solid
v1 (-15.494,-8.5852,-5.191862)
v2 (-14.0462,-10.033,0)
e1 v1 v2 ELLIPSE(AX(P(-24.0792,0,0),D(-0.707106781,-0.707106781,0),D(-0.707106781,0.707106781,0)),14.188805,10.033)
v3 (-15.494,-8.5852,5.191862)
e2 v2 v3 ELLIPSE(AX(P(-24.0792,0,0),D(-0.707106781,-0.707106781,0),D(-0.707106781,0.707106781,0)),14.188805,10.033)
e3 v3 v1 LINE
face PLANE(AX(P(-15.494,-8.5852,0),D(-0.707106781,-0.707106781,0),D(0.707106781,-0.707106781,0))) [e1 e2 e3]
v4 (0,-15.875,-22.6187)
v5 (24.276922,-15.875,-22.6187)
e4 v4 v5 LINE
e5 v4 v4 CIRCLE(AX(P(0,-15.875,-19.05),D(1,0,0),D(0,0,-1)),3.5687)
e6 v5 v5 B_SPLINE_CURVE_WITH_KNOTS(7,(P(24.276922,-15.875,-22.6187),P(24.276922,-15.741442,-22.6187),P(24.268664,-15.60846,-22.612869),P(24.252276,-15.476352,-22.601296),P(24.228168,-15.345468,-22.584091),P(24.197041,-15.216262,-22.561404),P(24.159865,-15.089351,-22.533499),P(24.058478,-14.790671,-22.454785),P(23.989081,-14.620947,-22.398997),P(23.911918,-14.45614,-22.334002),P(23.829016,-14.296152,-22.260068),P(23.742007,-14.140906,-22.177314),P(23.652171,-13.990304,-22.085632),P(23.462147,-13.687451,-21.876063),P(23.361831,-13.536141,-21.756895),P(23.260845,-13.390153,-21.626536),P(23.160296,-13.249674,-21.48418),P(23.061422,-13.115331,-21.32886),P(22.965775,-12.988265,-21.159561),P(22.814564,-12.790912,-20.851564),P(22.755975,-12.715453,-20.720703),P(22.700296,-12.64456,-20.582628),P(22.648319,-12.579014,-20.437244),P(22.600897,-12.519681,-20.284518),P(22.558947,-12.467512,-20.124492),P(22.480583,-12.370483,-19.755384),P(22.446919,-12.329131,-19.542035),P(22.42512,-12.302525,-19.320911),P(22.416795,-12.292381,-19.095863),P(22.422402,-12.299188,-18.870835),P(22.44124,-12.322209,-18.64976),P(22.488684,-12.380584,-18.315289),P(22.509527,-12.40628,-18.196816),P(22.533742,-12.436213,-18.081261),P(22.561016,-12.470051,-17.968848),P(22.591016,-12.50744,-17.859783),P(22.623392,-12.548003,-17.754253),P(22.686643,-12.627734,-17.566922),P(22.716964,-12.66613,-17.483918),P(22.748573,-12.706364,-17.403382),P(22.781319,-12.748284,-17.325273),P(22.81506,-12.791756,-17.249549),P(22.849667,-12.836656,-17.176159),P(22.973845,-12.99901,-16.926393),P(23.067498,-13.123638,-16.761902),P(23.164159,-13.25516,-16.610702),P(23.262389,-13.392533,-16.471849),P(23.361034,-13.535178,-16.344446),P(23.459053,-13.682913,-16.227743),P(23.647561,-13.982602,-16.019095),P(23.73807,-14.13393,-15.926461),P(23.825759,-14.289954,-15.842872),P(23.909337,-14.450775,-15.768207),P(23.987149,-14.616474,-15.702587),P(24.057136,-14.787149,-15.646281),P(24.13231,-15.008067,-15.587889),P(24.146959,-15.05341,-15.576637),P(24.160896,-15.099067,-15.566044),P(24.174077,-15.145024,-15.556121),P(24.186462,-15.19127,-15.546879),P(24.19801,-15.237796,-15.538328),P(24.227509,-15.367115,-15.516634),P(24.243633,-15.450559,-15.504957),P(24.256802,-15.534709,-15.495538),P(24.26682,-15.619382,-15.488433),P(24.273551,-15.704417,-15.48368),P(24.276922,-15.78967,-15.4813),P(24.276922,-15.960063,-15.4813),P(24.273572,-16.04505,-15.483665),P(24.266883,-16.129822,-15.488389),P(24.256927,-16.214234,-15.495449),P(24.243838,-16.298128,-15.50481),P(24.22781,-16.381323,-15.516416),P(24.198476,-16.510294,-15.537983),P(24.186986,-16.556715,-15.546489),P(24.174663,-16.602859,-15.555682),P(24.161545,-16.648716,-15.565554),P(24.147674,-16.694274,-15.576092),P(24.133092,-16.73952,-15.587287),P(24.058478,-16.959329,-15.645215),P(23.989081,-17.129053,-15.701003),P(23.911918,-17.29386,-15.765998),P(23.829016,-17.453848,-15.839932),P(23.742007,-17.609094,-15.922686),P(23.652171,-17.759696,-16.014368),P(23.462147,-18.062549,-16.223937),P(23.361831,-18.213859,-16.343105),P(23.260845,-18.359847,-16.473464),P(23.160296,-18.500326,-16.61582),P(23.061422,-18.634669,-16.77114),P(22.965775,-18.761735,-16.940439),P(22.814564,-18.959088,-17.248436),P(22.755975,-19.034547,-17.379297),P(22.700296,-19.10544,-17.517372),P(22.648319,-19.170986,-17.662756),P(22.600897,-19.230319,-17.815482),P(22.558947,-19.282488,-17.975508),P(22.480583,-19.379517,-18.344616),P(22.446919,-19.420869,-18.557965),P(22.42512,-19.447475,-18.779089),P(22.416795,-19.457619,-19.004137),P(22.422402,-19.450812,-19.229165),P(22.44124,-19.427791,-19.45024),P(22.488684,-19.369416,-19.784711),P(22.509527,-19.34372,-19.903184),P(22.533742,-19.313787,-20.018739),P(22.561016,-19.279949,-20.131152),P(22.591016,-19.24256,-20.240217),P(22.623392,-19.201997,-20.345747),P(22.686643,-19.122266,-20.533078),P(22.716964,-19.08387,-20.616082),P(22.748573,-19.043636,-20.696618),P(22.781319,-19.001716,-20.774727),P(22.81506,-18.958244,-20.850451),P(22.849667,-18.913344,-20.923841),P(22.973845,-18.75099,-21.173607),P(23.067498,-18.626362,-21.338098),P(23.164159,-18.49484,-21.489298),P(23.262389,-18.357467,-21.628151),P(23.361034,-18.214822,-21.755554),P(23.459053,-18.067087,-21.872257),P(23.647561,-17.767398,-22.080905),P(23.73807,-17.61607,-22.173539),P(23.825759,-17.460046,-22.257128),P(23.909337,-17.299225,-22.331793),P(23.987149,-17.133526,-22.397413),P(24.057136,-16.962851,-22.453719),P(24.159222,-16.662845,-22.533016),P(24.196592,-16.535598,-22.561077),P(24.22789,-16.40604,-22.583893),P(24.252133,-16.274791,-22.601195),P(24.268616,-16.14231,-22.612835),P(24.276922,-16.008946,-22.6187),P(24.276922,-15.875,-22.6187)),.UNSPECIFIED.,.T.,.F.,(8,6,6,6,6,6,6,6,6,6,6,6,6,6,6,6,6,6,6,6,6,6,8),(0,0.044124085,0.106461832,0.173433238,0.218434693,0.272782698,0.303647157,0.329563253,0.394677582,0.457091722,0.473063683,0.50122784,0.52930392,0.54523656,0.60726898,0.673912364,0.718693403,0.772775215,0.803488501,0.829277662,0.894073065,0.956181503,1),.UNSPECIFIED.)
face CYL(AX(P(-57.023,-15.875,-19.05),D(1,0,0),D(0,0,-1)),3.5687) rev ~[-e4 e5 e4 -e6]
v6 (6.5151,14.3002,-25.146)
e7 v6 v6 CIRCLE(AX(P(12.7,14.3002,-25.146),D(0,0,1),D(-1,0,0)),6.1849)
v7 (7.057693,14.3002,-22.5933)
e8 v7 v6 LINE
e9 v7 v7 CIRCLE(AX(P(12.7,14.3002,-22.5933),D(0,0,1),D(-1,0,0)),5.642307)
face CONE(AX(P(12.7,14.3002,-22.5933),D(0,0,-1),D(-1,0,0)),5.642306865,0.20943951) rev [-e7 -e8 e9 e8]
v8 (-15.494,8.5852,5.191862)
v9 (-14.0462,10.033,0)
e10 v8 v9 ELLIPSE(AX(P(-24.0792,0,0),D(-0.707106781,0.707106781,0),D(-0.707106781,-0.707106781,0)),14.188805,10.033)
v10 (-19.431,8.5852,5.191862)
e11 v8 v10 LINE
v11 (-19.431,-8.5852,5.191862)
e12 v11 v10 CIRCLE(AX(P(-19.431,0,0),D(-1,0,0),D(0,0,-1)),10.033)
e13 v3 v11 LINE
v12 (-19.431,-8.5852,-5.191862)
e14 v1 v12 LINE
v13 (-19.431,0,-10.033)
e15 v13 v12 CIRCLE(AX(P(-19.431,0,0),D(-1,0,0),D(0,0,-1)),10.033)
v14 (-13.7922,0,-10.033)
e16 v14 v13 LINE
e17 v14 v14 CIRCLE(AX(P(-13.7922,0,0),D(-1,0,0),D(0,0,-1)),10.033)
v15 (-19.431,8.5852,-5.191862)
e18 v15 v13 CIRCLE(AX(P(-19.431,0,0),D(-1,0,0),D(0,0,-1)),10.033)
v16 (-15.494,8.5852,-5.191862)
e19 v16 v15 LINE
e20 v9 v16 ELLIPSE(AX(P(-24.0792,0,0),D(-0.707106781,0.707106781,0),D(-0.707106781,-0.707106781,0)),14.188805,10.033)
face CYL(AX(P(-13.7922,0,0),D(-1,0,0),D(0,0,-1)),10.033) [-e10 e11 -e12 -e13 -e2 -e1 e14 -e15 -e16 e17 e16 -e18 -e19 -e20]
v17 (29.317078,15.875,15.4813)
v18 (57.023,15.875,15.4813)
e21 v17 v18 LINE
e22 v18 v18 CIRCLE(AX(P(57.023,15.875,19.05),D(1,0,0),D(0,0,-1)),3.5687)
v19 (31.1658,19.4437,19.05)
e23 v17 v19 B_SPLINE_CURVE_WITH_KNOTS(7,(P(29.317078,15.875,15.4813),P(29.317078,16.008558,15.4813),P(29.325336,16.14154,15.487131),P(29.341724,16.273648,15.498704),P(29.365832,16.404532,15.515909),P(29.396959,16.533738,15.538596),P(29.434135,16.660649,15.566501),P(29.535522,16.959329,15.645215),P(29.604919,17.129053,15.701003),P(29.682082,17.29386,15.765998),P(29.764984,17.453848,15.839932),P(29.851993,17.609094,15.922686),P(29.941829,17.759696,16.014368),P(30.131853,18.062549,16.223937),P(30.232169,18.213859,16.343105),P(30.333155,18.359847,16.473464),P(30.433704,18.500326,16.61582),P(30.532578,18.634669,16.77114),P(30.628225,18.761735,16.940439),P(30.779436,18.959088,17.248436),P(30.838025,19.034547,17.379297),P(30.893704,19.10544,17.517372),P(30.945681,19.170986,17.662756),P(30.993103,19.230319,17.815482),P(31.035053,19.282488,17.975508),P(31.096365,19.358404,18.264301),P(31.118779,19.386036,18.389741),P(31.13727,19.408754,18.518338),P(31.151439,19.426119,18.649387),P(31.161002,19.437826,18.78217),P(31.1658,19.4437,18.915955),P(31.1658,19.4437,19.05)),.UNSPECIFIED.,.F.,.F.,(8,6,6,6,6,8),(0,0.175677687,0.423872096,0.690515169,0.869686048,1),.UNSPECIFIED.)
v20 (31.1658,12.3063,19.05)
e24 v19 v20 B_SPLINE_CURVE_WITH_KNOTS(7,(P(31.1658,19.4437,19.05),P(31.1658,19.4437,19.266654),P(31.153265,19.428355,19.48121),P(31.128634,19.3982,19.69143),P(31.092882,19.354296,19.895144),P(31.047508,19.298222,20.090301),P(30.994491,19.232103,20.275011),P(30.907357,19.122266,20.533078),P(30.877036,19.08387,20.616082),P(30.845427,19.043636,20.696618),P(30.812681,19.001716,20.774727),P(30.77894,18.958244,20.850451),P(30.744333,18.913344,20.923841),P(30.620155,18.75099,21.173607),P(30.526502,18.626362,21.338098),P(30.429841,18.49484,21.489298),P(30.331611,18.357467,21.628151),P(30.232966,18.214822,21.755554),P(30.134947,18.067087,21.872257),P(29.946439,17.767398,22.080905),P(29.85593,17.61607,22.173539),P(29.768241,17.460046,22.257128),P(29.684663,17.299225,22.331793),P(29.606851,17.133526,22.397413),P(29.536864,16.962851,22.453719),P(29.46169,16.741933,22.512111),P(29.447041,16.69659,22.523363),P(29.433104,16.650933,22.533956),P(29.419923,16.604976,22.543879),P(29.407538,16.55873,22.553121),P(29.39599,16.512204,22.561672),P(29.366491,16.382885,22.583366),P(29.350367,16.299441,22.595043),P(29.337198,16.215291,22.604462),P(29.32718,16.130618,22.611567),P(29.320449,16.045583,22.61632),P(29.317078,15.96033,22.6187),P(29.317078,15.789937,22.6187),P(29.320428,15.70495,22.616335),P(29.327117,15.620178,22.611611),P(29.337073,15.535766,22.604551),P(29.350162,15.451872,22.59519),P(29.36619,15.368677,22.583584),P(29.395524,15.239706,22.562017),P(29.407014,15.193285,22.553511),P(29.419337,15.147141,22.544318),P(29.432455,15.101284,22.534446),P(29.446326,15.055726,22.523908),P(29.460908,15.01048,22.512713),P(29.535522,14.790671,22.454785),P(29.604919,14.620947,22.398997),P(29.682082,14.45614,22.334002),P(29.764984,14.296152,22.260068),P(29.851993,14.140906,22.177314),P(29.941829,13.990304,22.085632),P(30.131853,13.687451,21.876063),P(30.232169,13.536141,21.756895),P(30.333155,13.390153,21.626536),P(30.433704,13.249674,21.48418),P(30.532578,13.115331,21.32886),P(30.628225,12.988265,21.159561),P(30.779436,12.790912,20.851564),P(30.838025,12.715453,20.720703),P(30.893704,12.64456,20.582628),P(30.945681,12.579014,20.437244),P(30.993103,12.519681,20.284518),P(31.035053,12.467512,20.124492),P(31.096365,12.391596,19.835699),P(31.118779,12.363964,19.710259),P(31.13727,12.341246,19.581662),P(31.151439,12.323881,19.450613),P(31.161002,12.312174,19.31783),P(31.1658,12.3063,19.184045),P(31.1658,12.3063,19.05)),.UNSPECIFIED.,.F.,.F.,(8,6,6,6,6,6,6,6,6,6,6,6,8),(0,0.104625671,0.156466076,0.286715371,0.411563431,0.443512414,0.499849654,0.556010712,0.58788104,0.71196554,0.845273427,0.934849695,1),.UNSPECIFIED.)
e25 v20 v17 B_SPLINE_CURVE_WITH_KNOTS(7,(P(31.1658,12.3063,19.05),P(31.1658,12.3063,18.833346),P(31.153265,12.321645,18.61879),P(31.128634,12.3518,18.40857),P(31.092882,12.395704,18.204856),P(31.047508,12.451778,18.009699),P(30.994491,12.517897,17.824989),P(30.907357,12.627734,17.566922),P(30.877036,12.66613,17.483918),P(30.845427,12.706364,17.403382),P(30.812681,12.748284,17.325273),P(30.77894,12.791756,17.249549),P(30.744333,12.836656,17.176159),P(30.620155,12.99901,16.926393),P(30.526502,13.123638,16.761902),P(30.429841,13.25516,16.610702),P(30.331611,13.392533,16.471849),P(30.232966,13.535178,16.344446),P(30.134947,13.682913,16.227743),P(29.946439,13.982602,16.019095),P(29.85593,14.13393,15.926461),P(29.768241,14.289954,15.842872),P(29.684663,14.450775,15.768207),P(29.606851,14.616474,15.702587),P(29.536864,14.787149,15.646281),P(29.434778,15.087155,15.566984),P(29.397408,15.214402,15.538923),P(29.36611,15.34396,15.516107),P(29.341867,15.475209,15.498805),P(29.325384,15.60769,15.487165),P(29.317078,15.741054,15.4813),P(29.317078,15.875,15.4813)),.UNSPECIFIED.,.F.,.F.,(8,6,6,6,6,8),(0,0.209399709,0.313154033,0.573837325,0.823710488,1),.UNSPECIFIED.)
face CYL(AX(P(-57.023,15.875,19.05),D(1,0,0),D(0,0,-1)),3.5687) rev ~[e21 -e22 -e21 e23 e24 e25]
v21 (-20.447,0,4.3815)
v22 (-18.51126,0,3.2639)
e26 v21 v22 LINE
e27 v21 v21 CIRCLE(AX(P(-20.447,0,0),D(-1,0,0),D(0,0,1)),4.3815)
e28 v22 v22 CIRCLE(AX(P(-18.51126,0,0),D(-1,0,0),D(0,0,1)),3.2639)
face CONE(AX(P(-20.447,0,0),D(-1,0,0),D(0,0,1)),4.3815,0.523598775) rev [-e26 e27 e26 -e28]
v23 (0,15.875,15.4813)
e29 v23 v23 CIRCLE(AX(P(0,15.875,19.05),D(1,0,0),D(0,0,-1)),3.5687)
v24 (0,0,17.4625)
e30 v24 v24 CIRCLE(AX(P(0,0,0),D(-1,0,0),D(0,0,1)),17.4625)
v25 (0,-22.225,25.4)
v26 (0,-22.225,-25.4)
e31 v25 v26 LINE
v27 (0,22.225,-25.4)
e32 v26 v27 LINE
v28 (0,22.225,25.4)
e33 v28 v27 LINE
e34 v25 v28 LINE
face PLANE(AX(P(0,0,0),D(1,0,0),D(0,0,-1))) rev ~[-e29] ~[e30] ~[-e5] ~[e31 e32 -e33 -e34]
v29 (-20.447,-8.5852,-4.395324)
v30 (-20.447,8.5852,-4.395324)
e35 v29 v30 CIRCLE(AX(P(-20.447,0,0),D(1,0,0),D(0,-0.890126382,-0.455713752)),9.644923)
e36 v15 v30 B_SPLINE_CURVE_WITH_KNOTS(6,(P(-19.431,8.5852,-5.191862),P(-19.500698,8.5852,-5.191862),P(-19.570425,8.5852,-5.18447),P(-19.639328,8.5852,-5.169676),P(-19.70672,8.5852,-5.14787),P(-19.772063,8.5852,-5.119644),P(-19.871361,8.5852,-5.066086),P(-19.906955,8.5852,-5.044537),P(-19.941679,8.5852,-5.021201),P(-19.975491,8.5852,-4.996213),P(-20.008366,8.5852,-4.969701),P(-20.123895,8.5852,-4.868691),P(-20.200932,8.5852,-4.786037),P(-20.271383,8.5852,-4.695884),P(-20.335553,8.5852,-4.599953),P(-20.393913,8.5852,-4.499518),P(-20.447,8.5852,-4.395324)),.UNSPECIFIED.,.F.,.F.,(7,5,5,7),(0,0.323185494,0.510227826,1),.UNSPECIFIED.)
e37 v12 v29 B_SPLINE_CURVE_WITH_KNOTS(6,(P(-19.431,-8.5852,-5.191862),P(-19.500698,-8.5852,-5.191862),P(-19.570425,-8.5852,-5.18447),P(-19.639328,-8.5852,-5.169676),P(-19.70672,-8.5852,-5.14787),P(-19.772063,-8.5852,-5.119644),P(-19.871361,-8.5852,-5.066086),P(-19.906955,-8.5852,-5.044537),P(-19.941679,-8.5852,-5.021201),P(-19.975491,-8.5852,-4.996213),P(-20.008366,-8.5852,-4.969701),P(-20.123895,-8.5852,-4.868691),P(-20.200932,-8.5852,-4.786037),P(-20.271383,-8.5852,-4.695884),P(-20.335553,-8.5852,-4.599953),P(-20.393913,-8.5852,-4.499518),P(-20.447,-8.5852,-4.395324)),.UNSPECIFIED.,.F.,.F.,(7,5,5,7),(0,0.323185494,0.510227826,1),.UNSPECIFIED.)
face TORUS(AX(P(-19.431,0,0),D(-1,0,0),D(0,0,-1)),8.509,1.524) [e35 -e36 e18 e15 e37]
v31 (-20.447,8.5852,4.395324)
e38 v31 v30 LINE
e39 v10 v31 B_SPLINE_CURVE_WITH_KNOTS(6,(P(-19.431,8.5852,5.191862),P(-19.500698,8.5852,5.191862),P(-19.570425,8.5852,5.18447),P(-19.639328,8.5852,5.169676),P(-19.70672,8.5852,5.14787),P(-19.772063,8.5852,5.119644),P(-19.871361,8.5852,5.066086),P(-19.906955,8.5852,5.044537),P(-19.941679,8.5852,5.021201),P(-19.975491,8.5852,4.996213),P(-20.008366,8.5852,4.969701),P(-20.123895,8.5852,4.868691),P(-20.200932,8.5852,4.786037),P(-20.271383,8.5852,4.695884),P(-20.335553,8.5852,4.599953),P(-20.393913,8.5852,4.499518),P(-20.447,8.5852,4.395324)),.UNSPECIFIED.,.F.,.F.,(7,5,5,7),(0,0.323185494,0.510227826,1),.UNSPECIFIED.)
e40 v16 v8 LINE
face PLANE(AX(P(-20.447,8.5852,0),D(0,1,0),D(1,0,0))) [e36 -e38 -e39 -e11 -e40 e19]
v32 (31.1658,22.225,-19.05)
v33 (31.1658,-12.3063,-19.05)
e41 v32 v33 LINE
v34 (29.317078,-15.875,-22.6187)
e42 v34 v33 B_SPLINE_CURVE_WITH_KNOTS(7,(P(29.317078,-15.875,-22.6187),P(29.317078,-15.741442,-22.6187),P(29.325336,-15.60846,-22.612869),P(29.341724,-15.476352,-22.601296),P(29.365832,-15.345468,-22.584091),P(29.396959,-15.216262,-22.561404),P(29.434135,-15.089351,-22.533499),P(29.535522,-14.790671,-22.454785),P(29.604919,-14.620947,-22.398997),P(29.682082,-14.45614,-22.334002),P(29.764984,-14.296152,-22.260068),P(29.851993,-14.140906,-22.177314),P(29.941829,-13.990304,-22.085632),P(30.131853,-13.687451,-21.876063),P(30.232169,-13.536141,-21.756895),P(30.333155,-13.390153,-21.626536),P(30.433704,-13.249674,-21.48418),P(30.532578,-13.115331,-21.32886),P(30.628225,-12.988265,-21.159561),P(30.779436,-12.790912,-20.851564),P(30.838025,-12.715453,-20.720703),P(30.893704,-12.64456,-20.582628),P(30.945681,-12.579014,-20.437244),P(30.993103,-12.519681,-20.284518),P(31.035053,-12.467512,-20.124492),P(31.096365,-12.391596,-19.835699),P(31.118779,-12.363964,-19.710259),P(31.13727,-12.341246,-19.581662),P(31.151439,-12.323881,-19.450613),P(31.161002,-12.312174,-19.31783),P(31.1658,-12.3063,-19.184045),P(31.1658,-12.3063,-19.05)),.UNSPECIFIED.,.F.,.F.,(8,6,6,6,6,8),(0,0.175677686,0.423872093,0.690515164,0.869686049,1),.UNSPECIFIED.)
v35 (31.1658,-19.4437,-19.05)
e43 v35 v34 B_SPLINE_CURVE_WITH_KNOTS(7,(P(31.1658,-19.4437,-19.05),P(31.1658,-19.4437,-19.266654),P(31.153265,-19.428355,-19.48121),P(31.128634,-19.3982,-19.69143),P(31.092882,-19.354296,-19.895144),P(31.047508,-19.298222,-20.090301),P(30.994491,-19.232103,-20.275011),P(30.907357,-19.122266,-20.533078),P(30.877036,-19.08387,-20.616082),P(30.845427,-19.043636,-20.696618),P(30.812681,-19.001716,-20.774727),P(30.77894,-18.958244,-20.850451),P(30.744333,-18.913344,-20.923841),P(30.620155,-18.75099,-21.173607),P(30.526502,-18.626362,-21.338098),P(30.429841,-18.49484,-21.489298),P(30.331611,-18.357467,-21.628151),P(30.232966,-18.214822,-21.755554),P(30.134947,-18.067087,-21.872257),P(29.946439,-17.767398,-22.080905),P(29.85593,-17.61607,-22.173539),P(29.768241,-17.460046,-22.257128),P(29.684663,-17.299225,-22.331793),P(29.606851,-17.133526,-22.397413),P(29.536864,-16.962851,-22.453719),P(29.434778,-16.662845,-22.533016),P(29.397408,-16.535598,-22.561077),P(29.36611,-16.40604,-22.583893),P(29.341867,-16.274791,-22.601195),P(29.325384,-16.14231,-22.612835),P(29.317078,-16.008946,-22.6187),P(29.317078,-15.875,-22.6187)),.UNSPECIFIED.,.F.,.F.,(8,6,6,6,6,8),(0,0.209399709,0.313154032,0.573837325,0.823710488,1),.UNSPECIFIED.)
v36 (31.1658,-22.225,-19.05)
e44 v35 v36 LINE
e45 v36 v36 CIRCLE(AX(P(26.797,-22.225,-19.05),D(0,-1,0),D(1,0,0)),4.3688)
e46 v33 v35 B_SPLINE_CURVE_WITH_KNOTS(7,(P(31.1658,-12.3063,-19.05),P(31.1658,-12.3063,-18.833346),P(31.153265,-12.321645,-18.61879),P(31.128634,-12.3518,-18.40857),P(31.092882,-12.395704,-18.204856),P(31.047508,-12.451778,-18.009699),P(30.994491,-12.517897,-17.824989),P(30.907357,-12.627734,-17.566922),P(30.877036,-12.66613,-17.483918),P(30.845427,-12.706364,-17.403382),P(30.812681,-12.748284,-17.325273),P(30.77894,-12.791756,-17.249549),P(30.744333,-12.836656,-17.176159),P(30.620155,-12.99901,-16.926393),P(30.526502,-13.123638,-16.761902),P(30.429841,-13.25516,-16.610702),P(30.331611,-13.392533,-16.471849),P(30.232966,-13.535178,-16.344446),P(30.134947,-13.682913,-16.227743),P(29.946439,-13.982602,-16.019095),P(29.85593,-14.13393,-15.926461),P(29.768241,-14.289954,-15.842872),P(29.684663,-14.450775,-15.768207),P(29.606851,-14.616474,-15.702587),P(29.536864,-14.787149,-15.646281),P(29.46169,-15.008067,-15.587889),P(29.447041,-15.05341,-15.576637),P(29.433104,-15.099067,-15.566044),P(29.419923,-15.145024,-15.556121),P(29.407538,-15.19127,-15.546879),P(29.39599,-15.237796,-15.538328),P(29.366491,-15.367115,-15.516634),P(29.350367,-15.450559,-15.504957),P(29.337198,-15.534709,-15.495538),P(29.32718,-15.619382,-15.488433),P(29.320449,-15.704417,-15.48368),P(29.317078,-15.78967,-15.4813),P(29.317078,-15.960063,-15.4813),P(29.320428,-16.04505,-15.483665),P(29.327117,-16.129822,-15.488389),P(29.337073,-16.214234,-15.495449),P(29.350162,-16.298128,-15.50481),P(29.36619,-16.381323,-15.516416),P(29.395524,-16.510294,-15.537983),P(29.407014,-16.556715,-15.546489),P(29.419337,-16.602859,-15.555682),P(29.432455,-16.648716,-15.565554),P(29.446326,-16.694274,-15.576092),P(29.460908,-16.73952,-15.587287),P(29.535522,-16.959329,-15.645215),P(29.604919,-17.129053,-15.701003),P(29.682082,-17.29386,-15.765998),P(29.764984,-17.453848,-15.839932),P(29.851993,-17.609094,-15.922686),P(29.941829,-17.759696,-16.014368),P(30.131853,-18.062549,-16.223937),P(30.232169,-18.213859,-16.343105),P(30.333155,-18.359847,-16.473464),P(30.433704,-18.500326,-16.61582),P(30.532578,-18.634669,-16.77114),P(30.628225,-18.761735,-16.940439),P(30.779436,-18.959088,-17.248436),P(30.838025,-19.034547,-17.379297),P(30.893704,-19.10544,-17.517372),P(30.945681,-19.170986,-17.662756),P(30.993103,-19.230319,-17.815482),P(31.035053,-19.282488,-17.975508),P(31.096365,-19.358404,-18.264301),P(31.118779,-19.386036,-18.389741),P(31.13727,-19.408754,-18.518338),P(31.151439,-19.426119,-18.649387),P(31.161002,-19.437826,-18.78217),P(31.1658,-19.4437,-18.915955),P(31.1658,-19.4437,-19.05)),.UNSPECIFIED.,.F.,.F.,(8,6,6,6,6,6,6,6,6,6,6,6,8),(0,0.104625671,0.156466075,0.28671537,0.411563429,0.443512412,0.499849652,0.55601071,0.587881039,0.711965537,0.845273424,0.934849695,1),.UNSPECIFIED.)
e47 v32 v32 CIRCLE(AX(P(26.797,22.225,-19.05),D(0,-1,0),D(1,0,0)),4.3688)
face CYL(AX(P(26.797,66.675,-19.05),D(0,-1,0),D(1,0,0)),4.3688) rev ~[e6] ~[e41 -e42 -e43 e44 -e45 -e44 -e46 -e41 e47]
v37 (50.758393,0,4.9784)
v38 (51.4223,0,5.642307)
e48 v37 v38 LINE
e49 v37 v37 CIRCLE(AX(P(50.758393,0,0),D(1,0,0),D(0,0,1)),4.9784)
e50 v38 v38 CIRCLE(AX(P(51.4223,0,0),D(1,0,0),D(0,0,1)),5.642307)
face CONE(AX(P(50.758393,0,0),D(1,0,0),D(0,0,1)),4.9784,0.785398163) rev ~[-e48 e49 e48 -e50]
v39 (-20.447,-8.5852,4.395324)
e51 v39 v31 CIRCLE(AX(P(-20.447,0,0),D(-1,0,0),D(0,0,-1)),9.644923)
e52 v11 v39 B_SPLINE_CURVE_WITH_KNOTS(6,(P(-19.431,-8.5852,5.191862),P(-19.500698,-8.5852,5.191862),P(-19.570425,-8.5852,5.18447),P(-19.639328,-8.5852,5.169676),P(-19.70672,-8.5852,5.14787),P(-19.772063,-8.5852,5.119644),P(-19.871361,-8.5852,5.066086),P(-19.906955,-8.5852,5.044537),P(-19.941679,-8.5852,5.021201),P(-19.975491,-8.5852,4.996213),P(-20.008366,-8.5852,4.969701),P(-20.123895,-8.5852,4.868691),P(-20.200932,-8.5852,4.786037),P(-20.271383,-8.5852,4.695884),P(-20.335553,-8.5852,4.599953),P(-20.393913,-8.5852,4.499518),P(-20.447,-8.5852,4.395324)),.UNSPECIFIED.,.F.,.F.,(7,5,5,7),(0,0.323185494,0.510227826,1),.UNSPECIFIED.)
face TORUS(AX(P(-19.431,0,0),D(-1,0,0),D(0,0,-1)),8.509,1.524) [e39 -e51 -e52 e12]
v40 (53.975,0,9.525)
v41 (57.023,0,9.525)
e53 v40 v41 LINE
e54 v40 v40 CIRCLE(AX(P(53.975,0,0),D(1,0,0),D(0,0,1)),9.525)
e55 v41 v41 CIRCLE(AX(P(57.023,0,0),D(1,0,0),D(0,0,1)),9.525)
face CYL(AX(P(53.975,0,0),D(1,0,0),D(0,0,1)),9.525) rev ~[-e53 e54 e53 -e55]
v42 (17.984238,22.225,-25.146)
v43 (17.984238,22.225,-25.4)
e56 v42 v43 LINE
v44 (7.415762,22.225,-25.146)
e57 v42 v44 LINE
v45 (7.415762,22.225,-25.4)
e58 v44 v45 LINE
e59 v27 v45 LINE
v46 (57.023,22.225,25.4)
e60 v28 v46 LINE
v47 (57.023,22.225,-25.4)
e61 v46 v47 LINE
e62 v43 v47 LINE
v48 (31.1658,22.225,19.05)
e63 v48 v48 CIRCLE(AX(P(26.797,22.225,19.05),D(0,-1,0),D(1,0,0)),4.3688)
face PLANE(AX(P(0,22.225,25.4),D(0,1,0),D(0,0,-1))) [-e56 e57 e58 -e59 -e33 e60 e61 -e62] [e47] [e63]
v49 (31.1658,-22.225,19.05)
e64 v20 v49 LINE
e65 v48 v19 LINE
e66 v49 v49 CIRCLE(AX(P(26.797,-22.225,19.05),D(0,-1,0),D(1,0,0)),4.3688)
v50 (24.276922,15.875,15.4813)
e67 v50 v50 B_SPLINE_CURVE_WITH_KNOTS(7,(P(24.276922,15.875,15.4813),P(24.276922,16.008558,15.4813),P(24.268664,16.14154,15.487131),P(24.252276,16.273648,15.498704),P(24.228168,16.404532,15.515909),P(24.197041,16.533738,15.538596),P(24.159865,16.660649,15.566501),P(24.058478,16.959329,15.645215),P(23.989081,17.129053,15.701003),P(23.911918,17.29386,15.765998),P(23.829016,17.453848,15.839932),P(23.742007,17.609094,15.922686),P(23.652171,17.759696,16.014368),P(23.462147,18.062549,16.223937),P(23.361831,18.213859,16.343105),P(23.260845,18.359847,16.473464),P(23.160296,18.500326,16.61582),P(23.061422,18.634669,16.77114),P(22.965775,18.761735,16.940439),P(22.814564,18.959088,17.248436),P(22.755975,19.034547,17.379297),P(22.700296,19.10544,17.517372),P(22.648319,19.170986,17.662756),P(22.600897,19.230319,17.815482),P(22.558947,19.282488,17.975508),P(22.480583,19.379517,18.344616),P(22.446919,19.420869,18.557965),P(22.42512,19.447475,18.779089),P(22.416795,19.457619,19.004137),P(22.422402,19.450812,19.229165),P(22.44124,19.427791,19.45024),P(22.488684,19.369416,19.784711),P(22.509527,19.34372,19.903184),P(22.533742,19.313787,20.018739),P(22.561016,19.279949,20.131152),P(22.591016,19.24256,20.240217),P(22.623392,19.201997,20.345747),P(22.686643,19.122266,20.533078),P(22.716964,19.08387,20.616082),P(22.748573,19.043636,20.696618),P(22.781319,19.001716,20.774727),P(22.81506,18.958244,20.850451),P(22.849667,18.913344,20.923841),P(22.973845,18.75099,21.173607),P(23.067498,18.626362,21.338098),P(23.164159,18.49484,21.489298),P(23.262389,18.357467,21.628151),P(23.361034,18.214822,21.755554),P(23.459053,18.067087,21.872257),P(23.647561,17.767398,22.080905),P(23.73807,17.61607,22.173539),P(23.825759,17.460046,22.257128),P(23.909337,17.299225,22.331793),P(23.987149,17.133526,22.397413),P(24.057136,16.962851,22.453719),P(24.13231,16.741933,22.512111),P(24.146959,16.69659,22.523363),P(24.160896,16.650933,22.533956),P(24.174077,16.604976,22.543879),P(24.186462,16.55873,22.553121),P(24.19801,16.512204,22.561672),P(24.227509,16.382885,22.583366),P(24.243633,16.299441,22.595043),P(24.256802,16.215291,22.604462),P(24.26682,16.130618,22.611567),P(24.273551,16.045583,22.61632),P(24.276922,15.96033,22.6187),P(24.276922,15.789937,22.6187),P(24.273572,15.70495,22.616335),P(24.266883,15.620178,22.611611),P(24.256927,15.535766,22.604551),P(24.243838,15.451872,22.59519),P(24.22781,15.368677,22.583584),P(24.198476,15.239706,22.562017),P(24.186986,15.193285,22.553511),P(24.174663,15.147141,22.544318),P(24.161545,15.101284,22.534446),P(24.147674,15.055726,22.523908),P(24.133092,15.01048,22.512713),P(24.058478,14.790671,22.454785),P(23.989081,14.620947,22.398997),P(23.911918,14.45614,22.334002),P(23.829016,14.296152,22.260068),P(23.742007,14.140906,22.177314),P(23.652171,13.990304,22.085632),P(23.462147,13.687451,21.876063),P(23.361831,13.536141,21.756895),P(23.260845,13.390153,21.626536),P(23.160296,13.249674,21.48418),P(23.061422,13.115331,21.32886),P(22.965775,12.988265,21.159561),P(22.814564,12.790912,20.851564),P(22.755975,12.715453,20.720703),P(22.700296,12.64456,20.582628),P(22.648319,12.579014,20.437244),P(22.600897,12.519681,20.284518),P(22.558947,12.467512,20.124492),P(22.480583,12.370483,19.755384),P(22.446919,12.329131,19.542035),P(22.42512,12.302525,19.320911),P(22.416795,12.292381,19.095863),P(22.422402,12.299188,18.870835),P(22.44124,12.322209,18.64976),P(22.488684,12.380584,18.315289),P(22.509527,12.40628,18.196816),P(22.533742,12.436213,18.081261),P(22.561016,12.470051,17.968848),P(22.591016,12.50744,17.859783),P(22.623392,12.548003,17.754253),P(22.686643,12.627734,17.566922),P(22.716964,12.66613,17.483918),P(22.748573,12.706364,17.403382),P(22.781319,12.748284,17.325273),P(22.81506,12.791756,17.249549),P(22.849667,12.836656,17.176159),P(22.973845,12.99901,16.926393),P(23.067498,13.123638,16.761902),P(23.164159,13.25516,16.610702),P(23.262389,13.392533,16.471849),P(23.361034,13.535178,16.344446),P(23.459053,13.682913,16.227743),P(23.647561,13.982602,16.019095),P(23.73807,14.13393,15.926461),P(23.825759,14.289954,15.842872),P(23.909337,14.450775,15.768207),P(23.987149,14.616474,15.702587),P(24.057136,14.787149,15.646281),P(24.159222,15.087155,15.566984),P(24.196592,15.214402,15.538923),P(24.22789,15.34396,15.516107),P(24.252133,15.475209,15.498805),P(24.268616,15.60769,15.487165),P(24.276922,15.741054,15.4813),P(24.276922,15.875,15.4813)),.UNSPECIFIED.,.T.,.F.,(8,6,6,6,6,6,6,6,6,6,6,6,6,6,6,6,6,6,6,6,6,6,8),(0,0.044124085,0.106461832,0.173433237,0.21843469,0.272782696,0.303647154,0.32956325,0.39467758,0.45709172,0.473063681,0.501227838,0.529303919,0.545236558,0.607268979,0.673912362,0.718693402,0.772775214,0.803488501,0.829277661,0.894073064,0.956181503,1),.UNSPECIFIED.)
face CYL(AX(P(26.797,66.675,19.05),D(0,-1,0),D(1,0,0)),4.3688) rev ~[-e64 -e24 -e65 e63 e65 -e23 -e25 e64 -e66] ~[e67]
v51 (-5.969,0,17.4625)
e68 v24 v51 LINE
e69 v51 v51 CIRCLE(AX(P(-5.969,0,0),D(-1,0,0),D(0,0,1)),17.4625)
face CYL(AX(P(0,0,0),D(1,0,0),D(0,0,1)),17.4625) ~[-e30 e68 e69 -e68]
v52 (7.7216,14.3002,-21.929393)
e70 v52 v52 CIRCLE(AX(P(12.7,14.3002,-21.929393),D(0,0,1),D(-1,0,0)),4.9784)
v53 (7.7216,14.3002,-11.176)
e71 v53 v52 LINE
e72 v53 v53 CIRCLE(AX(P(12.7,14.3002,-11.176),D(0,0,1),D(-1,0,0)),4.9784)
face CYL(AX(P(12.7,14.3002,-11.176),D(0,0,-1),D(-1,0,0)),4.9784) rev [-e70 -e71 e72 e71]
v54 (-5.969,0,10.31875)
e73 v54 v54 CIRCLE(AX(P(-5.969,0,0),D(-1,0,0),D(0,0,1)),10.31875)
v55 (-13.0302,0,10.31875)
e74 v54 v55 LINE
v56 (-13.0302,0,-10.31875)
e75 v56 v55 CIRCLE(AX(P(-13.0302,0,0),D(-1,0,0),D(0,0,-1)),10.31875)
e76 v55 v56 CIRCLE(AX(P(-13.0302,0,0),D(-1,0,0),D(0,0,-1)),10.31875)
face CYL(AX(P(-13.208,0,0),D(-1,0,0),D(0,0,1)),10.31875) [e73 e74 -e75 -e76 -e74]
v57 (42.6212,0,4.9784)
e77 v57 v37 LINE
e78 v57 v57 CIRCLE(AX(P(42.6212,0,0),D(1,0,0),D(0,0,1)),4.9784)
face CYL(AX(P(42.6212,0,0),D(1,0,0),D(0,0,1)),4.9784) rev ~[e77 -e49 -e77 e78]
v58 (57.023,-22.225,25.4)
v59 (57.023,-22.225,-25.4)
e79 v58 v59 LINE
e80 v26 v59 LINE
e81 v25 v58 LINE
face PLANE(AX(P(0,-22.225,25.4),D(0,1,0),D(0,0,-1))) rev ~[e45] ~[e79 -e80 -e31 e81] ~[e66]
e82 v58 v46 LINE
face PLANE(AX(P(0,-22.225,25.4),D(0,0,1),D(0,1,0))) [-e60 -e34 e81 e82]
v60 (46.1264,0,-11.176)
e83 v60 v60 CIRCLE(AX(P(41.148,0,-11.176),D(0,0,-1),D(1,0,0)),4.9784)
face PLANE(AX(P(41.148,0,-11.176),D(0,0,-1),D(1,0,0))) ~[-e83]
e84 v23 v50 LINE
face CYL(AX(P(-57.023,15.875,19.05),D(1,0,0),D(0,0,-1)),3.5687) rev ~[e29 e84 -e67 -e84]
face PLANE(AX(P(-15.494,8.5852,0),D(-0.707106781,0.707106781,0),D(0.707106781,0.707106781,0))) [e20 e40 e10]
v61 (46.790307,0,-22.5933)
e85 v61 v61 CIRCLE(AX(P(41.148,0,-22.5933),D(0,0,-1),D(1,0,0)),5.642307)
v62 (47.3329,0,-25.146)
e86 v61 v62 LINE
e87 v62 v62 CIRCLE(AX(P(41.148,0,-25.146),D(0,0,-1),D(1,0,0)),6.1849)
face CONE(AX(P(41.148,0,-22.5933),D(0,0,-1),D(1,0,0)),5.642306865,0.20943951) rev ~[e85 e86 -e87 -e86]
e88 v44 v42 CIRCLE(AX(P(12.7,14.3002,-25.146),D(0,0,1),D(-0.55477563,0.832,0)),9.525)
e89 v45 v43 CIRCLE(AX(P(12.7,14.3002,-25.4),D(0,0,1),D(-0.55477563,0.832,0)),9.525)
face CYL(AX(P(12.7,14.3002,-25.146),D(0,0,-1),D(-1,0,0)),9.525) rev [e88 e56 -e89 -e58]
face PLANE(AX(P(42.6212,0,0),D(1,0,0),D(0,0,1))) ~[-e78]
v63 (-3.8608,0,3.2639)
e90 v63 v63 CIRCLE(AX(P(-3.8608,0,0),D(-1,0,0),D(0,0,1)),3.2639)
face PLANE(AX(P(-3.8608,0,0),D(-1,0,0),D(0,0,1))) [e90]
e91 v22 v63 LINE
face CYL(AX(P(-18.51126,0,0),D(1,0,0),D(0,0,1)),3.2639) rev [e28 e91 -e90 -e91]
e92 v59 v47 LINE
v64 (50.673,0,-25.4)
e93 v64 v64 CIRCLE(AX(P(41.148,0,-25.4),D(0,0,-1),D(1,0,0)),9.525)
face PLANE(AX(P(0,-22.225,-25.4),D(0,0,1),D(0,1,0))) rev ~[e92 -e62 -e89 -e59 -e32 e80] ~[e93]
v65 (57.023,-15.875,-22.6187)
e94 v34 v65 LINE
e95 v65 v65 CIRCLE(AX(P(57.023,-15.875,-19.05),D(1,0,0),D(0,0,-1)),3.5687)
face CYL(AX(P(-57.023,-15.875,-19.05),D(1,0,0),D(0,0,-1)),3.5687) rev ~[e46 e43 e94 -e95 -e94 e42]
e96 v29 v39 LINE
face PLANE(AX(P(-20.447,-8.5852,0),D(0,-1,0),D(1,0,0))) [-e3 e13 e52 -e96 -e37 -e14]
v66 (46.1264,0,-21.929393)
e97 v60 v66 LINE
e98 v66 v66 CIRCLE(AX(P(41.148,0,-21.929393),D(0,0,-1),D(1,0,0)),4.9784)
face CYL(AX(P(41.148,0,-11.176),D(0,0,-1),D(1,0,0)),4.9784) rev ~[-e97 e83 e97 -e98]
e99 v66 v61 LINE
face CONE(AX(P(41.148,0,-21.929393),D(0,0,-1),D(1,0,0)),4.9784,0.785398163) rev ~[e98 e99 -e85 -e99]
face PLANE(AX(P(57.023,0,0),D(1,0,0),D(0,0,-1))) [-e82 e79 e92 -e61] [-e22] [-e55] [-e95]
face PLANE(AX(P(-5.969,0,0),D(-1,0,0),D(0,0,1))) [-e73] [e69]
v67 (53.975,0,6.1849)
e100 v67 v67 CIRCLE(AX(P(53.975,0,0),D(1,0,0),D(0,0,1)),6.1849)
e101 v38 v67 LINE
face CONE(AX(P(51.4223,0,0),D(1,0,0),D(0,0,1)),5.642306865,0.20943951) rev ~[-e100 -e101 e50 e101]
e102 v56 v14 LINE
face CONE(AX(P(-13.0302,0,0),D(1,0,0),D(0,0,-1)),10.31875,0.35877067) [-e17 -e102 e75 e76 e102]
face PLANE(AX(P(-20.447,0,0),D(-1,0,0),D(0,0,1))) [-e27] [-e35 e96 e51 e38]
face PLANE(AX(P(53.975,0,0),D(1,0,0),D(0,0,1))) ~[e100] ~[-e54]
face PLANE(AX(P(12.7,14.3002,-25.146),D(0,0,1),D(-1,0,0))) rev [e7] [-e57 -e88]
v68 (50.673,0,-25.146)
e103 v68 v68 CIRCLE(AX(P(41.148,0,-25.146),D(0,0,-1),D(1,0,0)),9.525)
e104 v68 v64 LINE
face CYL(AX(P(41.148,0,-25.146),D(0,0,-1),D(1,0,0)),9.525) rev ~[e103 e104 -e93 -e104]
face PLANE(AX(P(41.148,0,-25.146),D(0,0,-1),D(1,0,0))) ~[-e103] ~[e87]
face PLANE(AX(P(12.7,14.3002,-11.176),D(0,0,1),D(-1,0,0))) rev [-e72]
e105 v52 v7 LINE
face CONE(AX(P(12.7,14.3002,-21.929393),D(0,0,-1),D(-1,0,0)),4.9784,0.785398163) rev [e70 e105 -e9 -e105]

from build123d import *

# Parameters (mm, degrees)
SKETCH1_W          = 50.8
SKETCH1_H          = 44.45
EXTRUDE1_DEPTH     = 57.023
SKETCH5_R          = 17.4625
EXTRUDE2_DEPTH     = 5.969
SKETCH6_W          = 10.31875
SKETCH6_H          = 14.478
CUT_EXTRUDE4_DEPTH = 30.48
HOLE1_D            = 7.1374
HOLE1_DEPTH        = 57.023
HOLE2_D            = 8.7376
HOLE2_DEPTH        = 44.45


with BuildPart() as part:
    # Sketch1 → Extrude1 (new body)
    with BuildSketch(Plane(origin=(0, 0, 0), x_dir=(0, 0, -1), z_dir=(1, 0, 0))):
        Rectangle(SKETCH1_W, SKETCH1_H)
    extrude(amount=EXTRUDE1_DEPTH)

    # S2D0002 → Cut-Revolve1 (revolve, cut)
    with BuildSketch(Plane(origin=(0, 14.3002, 0), x_dir=(-1, 0, 0), z_dir=(0, 1, 0)), mode=Mode.PRIVATE) as cut_revolve1_sk:
        Polygon((-18.8849, -25.146), (-22.225, -25.146), (-22.225, -25.4), (-12.7, -25.4), (-12.7, -11.176), (-17.6784, -11.176), (-17.6784, -21.929393135), (-18.342306865, -22.5933), align=None)
    revolve(cut_revolve1_sk.sketch.rotate(Axis((12.7, 14.3002, -19.13842003), (0, 0, 1)), 180), axis=Axis((12.7, 14.3002, -19.13842003), (0, 0, 1)), mode=Mode.SUBTRACT)  # turned: the seam where the file's is

    # Sketch3 → Cut-Revolve2 (revolve, cut)
    with BuildSketch(Plane(origin=(41.148, 0, -25.146), x_dir=(1, 0, 0), z_dir=(0, 1, 0))):
        Polygon((6.1849, 0), (9.525, 0), (9.525, 0.254), (0, 0.254), (0, -13.97), (4.9784, -13.97), (4.9784, -3.216606865), (5.642306865, -2.5527), align=None)
    revolve(axis=Axis((41.148, 0, -3.189624441), (0, 0, -1)), mode=Mode.SUBTRACT)

    # Sketch4 → Cut-Revolve3 (revolve, cut)
    with BuildSketch(Plane(origin=(53.975, 0, 0), x_dir=(0, -1, 0), z_dir=(0, 0, 1)), mode=Mode.PRIVATE) as cut_revolve3_sk:
        Polygon((6.1849, 0), (9.525, 0), (9.525, 3.048), (0, 3.048), (0, -11.3538), (4.9784, -11.3538), (4.9784, -3.216606865), (5.642306865, -2.5527), align=None)
    revolve(cut_revolve3_sk.sketch.rotate(Axis((38.879609832, 0, 0), (1, 0, 0)), 270), axis=Axis((38.879609832, 0, 0), (1, 0, 0)), mode=Mode.SUBTRACT)  # turned: the seam where the file's is

    # Sketch5 → Extrude2 (add)
    with BuildSketch(Plane.ZY):
        Circle(SKETCH5_R)
    extrude(amount=EXTRUDE2_DEPTH)

    # Sketch6 → Revolve1 (revolve)
    with BuildSketch(Plane(origin=(0, 0, 0), x_dir=(0, 0, 1), z_dir=(0, -1, 0)), mode=Mode.PRIVATE) as revolve1_sk:
        with Locations((-5.159375, 13.208)):
            Rectangle(SKETCH6_W, SKETCH6_H)
    revolve(revolve1_sk.sketch.rotate(Axis((5.754582971, 0, 0), (-1, 0, 0)), 180), axis=Axis((5.754582971, 0, 0), (-1, 0, 0)))  # turned: the seam where the file's is

    # S2D0001 → Cut-Revolve4 (revolve, cut)
    with BuildSketch(Plane(origin=(-18.511260017, 3.2639, 0), x_dir=(0, 1, 0), z_dir=(0, 0, 1)), mode=Mode.PRIVATE) as cut_revolve4_sk:
        Polygon((0, 0), (0, -14.650460017), (-3.2639, -14.650460017), (-3.2639, 1.935739983), (1.1176, 1.935739983), align=None)
    revolve(cut_revolve4_sk.sketch.rotate(Axis((0, 0, 0), (-1, 0, 0)), 270), axis=Axis((0, 0, 0), (-1, 0, 0)), mode=Mode.SUBTRACT)  # turned: the seam where the file's is

    # Sketch8 → Cut-Revolve5 (revolve, cut)
    with BuildSketch(Plane(origin=(0, 0, 0), x_dir=(0, 0, -1), z_dir=(0, 1, 0)), mode=Mode.PRIVATE) as cut_revolve5_sk:
        with BuildLine():
            Line((-10.31875, 13.0302), (-10.033, 13.7922))
            Line((-10.033, 13.7922), (-10.033, 19.431))
            ThreePointArc((-10.033, 19.431), (-9.932678675, 19.974796865), (-9.644922533, 20.447))
            Line((-9.644922533, 20.447), (-10.31875, 20.447))
            Line((-10.31875, 20.447), (-10.31875, 13.0302))
        make_face()
    revolve(cut_revolve5_sk.sketch.rotate(Axis((-12.65936, 0, 0), (-1, 0, 0)), 180), axis=Axis((-12.65936, 0, 0), (-1, 0, 0)), mode=Mode.SUBTRACT)  # turned: the seam where the file's is

    # Sketch12 → Cut-Extrude4 (cut, symmetric)
    with BuildSketch(Plane(origin=(0, 0, 0), x_dir=(0, -1, 0), z_dir=(0, 0, -1))):
        Polygon((8.5852, 20.447), (8.5852, 15.494), (10.033, 14.0462), (10.033, 20.447), align=None)
        Polygon((-8.5852, 20.447), (-8.5852, 15.494), (-10.033, 14.0462), (-10.033, 20.447), align=None)
    extrude(amount=CUT_EXTRUDE4_DEPTH, both=True, mode=Mode.SUBTRACT)

    # Hole1
    with Locations(Plane.ZY):
        with Locations((-19.05, -15.875), (19.05, 15.875)):
            Hole(HOLE1_D / 2, depth=HOLE1_DEPTH)

    # Hole2
    with Locations(Plane(origin=(0, 22.225, 0), x_dir=(-1, 0, 0), z_dir=(0, 1, 0))):
        with Locations((-26.797, -19.05), (-26.797, 19.05)):
            Hole(HOLE2_D / 2, depth=HOLE2_DEPTH)


solid = part.part
